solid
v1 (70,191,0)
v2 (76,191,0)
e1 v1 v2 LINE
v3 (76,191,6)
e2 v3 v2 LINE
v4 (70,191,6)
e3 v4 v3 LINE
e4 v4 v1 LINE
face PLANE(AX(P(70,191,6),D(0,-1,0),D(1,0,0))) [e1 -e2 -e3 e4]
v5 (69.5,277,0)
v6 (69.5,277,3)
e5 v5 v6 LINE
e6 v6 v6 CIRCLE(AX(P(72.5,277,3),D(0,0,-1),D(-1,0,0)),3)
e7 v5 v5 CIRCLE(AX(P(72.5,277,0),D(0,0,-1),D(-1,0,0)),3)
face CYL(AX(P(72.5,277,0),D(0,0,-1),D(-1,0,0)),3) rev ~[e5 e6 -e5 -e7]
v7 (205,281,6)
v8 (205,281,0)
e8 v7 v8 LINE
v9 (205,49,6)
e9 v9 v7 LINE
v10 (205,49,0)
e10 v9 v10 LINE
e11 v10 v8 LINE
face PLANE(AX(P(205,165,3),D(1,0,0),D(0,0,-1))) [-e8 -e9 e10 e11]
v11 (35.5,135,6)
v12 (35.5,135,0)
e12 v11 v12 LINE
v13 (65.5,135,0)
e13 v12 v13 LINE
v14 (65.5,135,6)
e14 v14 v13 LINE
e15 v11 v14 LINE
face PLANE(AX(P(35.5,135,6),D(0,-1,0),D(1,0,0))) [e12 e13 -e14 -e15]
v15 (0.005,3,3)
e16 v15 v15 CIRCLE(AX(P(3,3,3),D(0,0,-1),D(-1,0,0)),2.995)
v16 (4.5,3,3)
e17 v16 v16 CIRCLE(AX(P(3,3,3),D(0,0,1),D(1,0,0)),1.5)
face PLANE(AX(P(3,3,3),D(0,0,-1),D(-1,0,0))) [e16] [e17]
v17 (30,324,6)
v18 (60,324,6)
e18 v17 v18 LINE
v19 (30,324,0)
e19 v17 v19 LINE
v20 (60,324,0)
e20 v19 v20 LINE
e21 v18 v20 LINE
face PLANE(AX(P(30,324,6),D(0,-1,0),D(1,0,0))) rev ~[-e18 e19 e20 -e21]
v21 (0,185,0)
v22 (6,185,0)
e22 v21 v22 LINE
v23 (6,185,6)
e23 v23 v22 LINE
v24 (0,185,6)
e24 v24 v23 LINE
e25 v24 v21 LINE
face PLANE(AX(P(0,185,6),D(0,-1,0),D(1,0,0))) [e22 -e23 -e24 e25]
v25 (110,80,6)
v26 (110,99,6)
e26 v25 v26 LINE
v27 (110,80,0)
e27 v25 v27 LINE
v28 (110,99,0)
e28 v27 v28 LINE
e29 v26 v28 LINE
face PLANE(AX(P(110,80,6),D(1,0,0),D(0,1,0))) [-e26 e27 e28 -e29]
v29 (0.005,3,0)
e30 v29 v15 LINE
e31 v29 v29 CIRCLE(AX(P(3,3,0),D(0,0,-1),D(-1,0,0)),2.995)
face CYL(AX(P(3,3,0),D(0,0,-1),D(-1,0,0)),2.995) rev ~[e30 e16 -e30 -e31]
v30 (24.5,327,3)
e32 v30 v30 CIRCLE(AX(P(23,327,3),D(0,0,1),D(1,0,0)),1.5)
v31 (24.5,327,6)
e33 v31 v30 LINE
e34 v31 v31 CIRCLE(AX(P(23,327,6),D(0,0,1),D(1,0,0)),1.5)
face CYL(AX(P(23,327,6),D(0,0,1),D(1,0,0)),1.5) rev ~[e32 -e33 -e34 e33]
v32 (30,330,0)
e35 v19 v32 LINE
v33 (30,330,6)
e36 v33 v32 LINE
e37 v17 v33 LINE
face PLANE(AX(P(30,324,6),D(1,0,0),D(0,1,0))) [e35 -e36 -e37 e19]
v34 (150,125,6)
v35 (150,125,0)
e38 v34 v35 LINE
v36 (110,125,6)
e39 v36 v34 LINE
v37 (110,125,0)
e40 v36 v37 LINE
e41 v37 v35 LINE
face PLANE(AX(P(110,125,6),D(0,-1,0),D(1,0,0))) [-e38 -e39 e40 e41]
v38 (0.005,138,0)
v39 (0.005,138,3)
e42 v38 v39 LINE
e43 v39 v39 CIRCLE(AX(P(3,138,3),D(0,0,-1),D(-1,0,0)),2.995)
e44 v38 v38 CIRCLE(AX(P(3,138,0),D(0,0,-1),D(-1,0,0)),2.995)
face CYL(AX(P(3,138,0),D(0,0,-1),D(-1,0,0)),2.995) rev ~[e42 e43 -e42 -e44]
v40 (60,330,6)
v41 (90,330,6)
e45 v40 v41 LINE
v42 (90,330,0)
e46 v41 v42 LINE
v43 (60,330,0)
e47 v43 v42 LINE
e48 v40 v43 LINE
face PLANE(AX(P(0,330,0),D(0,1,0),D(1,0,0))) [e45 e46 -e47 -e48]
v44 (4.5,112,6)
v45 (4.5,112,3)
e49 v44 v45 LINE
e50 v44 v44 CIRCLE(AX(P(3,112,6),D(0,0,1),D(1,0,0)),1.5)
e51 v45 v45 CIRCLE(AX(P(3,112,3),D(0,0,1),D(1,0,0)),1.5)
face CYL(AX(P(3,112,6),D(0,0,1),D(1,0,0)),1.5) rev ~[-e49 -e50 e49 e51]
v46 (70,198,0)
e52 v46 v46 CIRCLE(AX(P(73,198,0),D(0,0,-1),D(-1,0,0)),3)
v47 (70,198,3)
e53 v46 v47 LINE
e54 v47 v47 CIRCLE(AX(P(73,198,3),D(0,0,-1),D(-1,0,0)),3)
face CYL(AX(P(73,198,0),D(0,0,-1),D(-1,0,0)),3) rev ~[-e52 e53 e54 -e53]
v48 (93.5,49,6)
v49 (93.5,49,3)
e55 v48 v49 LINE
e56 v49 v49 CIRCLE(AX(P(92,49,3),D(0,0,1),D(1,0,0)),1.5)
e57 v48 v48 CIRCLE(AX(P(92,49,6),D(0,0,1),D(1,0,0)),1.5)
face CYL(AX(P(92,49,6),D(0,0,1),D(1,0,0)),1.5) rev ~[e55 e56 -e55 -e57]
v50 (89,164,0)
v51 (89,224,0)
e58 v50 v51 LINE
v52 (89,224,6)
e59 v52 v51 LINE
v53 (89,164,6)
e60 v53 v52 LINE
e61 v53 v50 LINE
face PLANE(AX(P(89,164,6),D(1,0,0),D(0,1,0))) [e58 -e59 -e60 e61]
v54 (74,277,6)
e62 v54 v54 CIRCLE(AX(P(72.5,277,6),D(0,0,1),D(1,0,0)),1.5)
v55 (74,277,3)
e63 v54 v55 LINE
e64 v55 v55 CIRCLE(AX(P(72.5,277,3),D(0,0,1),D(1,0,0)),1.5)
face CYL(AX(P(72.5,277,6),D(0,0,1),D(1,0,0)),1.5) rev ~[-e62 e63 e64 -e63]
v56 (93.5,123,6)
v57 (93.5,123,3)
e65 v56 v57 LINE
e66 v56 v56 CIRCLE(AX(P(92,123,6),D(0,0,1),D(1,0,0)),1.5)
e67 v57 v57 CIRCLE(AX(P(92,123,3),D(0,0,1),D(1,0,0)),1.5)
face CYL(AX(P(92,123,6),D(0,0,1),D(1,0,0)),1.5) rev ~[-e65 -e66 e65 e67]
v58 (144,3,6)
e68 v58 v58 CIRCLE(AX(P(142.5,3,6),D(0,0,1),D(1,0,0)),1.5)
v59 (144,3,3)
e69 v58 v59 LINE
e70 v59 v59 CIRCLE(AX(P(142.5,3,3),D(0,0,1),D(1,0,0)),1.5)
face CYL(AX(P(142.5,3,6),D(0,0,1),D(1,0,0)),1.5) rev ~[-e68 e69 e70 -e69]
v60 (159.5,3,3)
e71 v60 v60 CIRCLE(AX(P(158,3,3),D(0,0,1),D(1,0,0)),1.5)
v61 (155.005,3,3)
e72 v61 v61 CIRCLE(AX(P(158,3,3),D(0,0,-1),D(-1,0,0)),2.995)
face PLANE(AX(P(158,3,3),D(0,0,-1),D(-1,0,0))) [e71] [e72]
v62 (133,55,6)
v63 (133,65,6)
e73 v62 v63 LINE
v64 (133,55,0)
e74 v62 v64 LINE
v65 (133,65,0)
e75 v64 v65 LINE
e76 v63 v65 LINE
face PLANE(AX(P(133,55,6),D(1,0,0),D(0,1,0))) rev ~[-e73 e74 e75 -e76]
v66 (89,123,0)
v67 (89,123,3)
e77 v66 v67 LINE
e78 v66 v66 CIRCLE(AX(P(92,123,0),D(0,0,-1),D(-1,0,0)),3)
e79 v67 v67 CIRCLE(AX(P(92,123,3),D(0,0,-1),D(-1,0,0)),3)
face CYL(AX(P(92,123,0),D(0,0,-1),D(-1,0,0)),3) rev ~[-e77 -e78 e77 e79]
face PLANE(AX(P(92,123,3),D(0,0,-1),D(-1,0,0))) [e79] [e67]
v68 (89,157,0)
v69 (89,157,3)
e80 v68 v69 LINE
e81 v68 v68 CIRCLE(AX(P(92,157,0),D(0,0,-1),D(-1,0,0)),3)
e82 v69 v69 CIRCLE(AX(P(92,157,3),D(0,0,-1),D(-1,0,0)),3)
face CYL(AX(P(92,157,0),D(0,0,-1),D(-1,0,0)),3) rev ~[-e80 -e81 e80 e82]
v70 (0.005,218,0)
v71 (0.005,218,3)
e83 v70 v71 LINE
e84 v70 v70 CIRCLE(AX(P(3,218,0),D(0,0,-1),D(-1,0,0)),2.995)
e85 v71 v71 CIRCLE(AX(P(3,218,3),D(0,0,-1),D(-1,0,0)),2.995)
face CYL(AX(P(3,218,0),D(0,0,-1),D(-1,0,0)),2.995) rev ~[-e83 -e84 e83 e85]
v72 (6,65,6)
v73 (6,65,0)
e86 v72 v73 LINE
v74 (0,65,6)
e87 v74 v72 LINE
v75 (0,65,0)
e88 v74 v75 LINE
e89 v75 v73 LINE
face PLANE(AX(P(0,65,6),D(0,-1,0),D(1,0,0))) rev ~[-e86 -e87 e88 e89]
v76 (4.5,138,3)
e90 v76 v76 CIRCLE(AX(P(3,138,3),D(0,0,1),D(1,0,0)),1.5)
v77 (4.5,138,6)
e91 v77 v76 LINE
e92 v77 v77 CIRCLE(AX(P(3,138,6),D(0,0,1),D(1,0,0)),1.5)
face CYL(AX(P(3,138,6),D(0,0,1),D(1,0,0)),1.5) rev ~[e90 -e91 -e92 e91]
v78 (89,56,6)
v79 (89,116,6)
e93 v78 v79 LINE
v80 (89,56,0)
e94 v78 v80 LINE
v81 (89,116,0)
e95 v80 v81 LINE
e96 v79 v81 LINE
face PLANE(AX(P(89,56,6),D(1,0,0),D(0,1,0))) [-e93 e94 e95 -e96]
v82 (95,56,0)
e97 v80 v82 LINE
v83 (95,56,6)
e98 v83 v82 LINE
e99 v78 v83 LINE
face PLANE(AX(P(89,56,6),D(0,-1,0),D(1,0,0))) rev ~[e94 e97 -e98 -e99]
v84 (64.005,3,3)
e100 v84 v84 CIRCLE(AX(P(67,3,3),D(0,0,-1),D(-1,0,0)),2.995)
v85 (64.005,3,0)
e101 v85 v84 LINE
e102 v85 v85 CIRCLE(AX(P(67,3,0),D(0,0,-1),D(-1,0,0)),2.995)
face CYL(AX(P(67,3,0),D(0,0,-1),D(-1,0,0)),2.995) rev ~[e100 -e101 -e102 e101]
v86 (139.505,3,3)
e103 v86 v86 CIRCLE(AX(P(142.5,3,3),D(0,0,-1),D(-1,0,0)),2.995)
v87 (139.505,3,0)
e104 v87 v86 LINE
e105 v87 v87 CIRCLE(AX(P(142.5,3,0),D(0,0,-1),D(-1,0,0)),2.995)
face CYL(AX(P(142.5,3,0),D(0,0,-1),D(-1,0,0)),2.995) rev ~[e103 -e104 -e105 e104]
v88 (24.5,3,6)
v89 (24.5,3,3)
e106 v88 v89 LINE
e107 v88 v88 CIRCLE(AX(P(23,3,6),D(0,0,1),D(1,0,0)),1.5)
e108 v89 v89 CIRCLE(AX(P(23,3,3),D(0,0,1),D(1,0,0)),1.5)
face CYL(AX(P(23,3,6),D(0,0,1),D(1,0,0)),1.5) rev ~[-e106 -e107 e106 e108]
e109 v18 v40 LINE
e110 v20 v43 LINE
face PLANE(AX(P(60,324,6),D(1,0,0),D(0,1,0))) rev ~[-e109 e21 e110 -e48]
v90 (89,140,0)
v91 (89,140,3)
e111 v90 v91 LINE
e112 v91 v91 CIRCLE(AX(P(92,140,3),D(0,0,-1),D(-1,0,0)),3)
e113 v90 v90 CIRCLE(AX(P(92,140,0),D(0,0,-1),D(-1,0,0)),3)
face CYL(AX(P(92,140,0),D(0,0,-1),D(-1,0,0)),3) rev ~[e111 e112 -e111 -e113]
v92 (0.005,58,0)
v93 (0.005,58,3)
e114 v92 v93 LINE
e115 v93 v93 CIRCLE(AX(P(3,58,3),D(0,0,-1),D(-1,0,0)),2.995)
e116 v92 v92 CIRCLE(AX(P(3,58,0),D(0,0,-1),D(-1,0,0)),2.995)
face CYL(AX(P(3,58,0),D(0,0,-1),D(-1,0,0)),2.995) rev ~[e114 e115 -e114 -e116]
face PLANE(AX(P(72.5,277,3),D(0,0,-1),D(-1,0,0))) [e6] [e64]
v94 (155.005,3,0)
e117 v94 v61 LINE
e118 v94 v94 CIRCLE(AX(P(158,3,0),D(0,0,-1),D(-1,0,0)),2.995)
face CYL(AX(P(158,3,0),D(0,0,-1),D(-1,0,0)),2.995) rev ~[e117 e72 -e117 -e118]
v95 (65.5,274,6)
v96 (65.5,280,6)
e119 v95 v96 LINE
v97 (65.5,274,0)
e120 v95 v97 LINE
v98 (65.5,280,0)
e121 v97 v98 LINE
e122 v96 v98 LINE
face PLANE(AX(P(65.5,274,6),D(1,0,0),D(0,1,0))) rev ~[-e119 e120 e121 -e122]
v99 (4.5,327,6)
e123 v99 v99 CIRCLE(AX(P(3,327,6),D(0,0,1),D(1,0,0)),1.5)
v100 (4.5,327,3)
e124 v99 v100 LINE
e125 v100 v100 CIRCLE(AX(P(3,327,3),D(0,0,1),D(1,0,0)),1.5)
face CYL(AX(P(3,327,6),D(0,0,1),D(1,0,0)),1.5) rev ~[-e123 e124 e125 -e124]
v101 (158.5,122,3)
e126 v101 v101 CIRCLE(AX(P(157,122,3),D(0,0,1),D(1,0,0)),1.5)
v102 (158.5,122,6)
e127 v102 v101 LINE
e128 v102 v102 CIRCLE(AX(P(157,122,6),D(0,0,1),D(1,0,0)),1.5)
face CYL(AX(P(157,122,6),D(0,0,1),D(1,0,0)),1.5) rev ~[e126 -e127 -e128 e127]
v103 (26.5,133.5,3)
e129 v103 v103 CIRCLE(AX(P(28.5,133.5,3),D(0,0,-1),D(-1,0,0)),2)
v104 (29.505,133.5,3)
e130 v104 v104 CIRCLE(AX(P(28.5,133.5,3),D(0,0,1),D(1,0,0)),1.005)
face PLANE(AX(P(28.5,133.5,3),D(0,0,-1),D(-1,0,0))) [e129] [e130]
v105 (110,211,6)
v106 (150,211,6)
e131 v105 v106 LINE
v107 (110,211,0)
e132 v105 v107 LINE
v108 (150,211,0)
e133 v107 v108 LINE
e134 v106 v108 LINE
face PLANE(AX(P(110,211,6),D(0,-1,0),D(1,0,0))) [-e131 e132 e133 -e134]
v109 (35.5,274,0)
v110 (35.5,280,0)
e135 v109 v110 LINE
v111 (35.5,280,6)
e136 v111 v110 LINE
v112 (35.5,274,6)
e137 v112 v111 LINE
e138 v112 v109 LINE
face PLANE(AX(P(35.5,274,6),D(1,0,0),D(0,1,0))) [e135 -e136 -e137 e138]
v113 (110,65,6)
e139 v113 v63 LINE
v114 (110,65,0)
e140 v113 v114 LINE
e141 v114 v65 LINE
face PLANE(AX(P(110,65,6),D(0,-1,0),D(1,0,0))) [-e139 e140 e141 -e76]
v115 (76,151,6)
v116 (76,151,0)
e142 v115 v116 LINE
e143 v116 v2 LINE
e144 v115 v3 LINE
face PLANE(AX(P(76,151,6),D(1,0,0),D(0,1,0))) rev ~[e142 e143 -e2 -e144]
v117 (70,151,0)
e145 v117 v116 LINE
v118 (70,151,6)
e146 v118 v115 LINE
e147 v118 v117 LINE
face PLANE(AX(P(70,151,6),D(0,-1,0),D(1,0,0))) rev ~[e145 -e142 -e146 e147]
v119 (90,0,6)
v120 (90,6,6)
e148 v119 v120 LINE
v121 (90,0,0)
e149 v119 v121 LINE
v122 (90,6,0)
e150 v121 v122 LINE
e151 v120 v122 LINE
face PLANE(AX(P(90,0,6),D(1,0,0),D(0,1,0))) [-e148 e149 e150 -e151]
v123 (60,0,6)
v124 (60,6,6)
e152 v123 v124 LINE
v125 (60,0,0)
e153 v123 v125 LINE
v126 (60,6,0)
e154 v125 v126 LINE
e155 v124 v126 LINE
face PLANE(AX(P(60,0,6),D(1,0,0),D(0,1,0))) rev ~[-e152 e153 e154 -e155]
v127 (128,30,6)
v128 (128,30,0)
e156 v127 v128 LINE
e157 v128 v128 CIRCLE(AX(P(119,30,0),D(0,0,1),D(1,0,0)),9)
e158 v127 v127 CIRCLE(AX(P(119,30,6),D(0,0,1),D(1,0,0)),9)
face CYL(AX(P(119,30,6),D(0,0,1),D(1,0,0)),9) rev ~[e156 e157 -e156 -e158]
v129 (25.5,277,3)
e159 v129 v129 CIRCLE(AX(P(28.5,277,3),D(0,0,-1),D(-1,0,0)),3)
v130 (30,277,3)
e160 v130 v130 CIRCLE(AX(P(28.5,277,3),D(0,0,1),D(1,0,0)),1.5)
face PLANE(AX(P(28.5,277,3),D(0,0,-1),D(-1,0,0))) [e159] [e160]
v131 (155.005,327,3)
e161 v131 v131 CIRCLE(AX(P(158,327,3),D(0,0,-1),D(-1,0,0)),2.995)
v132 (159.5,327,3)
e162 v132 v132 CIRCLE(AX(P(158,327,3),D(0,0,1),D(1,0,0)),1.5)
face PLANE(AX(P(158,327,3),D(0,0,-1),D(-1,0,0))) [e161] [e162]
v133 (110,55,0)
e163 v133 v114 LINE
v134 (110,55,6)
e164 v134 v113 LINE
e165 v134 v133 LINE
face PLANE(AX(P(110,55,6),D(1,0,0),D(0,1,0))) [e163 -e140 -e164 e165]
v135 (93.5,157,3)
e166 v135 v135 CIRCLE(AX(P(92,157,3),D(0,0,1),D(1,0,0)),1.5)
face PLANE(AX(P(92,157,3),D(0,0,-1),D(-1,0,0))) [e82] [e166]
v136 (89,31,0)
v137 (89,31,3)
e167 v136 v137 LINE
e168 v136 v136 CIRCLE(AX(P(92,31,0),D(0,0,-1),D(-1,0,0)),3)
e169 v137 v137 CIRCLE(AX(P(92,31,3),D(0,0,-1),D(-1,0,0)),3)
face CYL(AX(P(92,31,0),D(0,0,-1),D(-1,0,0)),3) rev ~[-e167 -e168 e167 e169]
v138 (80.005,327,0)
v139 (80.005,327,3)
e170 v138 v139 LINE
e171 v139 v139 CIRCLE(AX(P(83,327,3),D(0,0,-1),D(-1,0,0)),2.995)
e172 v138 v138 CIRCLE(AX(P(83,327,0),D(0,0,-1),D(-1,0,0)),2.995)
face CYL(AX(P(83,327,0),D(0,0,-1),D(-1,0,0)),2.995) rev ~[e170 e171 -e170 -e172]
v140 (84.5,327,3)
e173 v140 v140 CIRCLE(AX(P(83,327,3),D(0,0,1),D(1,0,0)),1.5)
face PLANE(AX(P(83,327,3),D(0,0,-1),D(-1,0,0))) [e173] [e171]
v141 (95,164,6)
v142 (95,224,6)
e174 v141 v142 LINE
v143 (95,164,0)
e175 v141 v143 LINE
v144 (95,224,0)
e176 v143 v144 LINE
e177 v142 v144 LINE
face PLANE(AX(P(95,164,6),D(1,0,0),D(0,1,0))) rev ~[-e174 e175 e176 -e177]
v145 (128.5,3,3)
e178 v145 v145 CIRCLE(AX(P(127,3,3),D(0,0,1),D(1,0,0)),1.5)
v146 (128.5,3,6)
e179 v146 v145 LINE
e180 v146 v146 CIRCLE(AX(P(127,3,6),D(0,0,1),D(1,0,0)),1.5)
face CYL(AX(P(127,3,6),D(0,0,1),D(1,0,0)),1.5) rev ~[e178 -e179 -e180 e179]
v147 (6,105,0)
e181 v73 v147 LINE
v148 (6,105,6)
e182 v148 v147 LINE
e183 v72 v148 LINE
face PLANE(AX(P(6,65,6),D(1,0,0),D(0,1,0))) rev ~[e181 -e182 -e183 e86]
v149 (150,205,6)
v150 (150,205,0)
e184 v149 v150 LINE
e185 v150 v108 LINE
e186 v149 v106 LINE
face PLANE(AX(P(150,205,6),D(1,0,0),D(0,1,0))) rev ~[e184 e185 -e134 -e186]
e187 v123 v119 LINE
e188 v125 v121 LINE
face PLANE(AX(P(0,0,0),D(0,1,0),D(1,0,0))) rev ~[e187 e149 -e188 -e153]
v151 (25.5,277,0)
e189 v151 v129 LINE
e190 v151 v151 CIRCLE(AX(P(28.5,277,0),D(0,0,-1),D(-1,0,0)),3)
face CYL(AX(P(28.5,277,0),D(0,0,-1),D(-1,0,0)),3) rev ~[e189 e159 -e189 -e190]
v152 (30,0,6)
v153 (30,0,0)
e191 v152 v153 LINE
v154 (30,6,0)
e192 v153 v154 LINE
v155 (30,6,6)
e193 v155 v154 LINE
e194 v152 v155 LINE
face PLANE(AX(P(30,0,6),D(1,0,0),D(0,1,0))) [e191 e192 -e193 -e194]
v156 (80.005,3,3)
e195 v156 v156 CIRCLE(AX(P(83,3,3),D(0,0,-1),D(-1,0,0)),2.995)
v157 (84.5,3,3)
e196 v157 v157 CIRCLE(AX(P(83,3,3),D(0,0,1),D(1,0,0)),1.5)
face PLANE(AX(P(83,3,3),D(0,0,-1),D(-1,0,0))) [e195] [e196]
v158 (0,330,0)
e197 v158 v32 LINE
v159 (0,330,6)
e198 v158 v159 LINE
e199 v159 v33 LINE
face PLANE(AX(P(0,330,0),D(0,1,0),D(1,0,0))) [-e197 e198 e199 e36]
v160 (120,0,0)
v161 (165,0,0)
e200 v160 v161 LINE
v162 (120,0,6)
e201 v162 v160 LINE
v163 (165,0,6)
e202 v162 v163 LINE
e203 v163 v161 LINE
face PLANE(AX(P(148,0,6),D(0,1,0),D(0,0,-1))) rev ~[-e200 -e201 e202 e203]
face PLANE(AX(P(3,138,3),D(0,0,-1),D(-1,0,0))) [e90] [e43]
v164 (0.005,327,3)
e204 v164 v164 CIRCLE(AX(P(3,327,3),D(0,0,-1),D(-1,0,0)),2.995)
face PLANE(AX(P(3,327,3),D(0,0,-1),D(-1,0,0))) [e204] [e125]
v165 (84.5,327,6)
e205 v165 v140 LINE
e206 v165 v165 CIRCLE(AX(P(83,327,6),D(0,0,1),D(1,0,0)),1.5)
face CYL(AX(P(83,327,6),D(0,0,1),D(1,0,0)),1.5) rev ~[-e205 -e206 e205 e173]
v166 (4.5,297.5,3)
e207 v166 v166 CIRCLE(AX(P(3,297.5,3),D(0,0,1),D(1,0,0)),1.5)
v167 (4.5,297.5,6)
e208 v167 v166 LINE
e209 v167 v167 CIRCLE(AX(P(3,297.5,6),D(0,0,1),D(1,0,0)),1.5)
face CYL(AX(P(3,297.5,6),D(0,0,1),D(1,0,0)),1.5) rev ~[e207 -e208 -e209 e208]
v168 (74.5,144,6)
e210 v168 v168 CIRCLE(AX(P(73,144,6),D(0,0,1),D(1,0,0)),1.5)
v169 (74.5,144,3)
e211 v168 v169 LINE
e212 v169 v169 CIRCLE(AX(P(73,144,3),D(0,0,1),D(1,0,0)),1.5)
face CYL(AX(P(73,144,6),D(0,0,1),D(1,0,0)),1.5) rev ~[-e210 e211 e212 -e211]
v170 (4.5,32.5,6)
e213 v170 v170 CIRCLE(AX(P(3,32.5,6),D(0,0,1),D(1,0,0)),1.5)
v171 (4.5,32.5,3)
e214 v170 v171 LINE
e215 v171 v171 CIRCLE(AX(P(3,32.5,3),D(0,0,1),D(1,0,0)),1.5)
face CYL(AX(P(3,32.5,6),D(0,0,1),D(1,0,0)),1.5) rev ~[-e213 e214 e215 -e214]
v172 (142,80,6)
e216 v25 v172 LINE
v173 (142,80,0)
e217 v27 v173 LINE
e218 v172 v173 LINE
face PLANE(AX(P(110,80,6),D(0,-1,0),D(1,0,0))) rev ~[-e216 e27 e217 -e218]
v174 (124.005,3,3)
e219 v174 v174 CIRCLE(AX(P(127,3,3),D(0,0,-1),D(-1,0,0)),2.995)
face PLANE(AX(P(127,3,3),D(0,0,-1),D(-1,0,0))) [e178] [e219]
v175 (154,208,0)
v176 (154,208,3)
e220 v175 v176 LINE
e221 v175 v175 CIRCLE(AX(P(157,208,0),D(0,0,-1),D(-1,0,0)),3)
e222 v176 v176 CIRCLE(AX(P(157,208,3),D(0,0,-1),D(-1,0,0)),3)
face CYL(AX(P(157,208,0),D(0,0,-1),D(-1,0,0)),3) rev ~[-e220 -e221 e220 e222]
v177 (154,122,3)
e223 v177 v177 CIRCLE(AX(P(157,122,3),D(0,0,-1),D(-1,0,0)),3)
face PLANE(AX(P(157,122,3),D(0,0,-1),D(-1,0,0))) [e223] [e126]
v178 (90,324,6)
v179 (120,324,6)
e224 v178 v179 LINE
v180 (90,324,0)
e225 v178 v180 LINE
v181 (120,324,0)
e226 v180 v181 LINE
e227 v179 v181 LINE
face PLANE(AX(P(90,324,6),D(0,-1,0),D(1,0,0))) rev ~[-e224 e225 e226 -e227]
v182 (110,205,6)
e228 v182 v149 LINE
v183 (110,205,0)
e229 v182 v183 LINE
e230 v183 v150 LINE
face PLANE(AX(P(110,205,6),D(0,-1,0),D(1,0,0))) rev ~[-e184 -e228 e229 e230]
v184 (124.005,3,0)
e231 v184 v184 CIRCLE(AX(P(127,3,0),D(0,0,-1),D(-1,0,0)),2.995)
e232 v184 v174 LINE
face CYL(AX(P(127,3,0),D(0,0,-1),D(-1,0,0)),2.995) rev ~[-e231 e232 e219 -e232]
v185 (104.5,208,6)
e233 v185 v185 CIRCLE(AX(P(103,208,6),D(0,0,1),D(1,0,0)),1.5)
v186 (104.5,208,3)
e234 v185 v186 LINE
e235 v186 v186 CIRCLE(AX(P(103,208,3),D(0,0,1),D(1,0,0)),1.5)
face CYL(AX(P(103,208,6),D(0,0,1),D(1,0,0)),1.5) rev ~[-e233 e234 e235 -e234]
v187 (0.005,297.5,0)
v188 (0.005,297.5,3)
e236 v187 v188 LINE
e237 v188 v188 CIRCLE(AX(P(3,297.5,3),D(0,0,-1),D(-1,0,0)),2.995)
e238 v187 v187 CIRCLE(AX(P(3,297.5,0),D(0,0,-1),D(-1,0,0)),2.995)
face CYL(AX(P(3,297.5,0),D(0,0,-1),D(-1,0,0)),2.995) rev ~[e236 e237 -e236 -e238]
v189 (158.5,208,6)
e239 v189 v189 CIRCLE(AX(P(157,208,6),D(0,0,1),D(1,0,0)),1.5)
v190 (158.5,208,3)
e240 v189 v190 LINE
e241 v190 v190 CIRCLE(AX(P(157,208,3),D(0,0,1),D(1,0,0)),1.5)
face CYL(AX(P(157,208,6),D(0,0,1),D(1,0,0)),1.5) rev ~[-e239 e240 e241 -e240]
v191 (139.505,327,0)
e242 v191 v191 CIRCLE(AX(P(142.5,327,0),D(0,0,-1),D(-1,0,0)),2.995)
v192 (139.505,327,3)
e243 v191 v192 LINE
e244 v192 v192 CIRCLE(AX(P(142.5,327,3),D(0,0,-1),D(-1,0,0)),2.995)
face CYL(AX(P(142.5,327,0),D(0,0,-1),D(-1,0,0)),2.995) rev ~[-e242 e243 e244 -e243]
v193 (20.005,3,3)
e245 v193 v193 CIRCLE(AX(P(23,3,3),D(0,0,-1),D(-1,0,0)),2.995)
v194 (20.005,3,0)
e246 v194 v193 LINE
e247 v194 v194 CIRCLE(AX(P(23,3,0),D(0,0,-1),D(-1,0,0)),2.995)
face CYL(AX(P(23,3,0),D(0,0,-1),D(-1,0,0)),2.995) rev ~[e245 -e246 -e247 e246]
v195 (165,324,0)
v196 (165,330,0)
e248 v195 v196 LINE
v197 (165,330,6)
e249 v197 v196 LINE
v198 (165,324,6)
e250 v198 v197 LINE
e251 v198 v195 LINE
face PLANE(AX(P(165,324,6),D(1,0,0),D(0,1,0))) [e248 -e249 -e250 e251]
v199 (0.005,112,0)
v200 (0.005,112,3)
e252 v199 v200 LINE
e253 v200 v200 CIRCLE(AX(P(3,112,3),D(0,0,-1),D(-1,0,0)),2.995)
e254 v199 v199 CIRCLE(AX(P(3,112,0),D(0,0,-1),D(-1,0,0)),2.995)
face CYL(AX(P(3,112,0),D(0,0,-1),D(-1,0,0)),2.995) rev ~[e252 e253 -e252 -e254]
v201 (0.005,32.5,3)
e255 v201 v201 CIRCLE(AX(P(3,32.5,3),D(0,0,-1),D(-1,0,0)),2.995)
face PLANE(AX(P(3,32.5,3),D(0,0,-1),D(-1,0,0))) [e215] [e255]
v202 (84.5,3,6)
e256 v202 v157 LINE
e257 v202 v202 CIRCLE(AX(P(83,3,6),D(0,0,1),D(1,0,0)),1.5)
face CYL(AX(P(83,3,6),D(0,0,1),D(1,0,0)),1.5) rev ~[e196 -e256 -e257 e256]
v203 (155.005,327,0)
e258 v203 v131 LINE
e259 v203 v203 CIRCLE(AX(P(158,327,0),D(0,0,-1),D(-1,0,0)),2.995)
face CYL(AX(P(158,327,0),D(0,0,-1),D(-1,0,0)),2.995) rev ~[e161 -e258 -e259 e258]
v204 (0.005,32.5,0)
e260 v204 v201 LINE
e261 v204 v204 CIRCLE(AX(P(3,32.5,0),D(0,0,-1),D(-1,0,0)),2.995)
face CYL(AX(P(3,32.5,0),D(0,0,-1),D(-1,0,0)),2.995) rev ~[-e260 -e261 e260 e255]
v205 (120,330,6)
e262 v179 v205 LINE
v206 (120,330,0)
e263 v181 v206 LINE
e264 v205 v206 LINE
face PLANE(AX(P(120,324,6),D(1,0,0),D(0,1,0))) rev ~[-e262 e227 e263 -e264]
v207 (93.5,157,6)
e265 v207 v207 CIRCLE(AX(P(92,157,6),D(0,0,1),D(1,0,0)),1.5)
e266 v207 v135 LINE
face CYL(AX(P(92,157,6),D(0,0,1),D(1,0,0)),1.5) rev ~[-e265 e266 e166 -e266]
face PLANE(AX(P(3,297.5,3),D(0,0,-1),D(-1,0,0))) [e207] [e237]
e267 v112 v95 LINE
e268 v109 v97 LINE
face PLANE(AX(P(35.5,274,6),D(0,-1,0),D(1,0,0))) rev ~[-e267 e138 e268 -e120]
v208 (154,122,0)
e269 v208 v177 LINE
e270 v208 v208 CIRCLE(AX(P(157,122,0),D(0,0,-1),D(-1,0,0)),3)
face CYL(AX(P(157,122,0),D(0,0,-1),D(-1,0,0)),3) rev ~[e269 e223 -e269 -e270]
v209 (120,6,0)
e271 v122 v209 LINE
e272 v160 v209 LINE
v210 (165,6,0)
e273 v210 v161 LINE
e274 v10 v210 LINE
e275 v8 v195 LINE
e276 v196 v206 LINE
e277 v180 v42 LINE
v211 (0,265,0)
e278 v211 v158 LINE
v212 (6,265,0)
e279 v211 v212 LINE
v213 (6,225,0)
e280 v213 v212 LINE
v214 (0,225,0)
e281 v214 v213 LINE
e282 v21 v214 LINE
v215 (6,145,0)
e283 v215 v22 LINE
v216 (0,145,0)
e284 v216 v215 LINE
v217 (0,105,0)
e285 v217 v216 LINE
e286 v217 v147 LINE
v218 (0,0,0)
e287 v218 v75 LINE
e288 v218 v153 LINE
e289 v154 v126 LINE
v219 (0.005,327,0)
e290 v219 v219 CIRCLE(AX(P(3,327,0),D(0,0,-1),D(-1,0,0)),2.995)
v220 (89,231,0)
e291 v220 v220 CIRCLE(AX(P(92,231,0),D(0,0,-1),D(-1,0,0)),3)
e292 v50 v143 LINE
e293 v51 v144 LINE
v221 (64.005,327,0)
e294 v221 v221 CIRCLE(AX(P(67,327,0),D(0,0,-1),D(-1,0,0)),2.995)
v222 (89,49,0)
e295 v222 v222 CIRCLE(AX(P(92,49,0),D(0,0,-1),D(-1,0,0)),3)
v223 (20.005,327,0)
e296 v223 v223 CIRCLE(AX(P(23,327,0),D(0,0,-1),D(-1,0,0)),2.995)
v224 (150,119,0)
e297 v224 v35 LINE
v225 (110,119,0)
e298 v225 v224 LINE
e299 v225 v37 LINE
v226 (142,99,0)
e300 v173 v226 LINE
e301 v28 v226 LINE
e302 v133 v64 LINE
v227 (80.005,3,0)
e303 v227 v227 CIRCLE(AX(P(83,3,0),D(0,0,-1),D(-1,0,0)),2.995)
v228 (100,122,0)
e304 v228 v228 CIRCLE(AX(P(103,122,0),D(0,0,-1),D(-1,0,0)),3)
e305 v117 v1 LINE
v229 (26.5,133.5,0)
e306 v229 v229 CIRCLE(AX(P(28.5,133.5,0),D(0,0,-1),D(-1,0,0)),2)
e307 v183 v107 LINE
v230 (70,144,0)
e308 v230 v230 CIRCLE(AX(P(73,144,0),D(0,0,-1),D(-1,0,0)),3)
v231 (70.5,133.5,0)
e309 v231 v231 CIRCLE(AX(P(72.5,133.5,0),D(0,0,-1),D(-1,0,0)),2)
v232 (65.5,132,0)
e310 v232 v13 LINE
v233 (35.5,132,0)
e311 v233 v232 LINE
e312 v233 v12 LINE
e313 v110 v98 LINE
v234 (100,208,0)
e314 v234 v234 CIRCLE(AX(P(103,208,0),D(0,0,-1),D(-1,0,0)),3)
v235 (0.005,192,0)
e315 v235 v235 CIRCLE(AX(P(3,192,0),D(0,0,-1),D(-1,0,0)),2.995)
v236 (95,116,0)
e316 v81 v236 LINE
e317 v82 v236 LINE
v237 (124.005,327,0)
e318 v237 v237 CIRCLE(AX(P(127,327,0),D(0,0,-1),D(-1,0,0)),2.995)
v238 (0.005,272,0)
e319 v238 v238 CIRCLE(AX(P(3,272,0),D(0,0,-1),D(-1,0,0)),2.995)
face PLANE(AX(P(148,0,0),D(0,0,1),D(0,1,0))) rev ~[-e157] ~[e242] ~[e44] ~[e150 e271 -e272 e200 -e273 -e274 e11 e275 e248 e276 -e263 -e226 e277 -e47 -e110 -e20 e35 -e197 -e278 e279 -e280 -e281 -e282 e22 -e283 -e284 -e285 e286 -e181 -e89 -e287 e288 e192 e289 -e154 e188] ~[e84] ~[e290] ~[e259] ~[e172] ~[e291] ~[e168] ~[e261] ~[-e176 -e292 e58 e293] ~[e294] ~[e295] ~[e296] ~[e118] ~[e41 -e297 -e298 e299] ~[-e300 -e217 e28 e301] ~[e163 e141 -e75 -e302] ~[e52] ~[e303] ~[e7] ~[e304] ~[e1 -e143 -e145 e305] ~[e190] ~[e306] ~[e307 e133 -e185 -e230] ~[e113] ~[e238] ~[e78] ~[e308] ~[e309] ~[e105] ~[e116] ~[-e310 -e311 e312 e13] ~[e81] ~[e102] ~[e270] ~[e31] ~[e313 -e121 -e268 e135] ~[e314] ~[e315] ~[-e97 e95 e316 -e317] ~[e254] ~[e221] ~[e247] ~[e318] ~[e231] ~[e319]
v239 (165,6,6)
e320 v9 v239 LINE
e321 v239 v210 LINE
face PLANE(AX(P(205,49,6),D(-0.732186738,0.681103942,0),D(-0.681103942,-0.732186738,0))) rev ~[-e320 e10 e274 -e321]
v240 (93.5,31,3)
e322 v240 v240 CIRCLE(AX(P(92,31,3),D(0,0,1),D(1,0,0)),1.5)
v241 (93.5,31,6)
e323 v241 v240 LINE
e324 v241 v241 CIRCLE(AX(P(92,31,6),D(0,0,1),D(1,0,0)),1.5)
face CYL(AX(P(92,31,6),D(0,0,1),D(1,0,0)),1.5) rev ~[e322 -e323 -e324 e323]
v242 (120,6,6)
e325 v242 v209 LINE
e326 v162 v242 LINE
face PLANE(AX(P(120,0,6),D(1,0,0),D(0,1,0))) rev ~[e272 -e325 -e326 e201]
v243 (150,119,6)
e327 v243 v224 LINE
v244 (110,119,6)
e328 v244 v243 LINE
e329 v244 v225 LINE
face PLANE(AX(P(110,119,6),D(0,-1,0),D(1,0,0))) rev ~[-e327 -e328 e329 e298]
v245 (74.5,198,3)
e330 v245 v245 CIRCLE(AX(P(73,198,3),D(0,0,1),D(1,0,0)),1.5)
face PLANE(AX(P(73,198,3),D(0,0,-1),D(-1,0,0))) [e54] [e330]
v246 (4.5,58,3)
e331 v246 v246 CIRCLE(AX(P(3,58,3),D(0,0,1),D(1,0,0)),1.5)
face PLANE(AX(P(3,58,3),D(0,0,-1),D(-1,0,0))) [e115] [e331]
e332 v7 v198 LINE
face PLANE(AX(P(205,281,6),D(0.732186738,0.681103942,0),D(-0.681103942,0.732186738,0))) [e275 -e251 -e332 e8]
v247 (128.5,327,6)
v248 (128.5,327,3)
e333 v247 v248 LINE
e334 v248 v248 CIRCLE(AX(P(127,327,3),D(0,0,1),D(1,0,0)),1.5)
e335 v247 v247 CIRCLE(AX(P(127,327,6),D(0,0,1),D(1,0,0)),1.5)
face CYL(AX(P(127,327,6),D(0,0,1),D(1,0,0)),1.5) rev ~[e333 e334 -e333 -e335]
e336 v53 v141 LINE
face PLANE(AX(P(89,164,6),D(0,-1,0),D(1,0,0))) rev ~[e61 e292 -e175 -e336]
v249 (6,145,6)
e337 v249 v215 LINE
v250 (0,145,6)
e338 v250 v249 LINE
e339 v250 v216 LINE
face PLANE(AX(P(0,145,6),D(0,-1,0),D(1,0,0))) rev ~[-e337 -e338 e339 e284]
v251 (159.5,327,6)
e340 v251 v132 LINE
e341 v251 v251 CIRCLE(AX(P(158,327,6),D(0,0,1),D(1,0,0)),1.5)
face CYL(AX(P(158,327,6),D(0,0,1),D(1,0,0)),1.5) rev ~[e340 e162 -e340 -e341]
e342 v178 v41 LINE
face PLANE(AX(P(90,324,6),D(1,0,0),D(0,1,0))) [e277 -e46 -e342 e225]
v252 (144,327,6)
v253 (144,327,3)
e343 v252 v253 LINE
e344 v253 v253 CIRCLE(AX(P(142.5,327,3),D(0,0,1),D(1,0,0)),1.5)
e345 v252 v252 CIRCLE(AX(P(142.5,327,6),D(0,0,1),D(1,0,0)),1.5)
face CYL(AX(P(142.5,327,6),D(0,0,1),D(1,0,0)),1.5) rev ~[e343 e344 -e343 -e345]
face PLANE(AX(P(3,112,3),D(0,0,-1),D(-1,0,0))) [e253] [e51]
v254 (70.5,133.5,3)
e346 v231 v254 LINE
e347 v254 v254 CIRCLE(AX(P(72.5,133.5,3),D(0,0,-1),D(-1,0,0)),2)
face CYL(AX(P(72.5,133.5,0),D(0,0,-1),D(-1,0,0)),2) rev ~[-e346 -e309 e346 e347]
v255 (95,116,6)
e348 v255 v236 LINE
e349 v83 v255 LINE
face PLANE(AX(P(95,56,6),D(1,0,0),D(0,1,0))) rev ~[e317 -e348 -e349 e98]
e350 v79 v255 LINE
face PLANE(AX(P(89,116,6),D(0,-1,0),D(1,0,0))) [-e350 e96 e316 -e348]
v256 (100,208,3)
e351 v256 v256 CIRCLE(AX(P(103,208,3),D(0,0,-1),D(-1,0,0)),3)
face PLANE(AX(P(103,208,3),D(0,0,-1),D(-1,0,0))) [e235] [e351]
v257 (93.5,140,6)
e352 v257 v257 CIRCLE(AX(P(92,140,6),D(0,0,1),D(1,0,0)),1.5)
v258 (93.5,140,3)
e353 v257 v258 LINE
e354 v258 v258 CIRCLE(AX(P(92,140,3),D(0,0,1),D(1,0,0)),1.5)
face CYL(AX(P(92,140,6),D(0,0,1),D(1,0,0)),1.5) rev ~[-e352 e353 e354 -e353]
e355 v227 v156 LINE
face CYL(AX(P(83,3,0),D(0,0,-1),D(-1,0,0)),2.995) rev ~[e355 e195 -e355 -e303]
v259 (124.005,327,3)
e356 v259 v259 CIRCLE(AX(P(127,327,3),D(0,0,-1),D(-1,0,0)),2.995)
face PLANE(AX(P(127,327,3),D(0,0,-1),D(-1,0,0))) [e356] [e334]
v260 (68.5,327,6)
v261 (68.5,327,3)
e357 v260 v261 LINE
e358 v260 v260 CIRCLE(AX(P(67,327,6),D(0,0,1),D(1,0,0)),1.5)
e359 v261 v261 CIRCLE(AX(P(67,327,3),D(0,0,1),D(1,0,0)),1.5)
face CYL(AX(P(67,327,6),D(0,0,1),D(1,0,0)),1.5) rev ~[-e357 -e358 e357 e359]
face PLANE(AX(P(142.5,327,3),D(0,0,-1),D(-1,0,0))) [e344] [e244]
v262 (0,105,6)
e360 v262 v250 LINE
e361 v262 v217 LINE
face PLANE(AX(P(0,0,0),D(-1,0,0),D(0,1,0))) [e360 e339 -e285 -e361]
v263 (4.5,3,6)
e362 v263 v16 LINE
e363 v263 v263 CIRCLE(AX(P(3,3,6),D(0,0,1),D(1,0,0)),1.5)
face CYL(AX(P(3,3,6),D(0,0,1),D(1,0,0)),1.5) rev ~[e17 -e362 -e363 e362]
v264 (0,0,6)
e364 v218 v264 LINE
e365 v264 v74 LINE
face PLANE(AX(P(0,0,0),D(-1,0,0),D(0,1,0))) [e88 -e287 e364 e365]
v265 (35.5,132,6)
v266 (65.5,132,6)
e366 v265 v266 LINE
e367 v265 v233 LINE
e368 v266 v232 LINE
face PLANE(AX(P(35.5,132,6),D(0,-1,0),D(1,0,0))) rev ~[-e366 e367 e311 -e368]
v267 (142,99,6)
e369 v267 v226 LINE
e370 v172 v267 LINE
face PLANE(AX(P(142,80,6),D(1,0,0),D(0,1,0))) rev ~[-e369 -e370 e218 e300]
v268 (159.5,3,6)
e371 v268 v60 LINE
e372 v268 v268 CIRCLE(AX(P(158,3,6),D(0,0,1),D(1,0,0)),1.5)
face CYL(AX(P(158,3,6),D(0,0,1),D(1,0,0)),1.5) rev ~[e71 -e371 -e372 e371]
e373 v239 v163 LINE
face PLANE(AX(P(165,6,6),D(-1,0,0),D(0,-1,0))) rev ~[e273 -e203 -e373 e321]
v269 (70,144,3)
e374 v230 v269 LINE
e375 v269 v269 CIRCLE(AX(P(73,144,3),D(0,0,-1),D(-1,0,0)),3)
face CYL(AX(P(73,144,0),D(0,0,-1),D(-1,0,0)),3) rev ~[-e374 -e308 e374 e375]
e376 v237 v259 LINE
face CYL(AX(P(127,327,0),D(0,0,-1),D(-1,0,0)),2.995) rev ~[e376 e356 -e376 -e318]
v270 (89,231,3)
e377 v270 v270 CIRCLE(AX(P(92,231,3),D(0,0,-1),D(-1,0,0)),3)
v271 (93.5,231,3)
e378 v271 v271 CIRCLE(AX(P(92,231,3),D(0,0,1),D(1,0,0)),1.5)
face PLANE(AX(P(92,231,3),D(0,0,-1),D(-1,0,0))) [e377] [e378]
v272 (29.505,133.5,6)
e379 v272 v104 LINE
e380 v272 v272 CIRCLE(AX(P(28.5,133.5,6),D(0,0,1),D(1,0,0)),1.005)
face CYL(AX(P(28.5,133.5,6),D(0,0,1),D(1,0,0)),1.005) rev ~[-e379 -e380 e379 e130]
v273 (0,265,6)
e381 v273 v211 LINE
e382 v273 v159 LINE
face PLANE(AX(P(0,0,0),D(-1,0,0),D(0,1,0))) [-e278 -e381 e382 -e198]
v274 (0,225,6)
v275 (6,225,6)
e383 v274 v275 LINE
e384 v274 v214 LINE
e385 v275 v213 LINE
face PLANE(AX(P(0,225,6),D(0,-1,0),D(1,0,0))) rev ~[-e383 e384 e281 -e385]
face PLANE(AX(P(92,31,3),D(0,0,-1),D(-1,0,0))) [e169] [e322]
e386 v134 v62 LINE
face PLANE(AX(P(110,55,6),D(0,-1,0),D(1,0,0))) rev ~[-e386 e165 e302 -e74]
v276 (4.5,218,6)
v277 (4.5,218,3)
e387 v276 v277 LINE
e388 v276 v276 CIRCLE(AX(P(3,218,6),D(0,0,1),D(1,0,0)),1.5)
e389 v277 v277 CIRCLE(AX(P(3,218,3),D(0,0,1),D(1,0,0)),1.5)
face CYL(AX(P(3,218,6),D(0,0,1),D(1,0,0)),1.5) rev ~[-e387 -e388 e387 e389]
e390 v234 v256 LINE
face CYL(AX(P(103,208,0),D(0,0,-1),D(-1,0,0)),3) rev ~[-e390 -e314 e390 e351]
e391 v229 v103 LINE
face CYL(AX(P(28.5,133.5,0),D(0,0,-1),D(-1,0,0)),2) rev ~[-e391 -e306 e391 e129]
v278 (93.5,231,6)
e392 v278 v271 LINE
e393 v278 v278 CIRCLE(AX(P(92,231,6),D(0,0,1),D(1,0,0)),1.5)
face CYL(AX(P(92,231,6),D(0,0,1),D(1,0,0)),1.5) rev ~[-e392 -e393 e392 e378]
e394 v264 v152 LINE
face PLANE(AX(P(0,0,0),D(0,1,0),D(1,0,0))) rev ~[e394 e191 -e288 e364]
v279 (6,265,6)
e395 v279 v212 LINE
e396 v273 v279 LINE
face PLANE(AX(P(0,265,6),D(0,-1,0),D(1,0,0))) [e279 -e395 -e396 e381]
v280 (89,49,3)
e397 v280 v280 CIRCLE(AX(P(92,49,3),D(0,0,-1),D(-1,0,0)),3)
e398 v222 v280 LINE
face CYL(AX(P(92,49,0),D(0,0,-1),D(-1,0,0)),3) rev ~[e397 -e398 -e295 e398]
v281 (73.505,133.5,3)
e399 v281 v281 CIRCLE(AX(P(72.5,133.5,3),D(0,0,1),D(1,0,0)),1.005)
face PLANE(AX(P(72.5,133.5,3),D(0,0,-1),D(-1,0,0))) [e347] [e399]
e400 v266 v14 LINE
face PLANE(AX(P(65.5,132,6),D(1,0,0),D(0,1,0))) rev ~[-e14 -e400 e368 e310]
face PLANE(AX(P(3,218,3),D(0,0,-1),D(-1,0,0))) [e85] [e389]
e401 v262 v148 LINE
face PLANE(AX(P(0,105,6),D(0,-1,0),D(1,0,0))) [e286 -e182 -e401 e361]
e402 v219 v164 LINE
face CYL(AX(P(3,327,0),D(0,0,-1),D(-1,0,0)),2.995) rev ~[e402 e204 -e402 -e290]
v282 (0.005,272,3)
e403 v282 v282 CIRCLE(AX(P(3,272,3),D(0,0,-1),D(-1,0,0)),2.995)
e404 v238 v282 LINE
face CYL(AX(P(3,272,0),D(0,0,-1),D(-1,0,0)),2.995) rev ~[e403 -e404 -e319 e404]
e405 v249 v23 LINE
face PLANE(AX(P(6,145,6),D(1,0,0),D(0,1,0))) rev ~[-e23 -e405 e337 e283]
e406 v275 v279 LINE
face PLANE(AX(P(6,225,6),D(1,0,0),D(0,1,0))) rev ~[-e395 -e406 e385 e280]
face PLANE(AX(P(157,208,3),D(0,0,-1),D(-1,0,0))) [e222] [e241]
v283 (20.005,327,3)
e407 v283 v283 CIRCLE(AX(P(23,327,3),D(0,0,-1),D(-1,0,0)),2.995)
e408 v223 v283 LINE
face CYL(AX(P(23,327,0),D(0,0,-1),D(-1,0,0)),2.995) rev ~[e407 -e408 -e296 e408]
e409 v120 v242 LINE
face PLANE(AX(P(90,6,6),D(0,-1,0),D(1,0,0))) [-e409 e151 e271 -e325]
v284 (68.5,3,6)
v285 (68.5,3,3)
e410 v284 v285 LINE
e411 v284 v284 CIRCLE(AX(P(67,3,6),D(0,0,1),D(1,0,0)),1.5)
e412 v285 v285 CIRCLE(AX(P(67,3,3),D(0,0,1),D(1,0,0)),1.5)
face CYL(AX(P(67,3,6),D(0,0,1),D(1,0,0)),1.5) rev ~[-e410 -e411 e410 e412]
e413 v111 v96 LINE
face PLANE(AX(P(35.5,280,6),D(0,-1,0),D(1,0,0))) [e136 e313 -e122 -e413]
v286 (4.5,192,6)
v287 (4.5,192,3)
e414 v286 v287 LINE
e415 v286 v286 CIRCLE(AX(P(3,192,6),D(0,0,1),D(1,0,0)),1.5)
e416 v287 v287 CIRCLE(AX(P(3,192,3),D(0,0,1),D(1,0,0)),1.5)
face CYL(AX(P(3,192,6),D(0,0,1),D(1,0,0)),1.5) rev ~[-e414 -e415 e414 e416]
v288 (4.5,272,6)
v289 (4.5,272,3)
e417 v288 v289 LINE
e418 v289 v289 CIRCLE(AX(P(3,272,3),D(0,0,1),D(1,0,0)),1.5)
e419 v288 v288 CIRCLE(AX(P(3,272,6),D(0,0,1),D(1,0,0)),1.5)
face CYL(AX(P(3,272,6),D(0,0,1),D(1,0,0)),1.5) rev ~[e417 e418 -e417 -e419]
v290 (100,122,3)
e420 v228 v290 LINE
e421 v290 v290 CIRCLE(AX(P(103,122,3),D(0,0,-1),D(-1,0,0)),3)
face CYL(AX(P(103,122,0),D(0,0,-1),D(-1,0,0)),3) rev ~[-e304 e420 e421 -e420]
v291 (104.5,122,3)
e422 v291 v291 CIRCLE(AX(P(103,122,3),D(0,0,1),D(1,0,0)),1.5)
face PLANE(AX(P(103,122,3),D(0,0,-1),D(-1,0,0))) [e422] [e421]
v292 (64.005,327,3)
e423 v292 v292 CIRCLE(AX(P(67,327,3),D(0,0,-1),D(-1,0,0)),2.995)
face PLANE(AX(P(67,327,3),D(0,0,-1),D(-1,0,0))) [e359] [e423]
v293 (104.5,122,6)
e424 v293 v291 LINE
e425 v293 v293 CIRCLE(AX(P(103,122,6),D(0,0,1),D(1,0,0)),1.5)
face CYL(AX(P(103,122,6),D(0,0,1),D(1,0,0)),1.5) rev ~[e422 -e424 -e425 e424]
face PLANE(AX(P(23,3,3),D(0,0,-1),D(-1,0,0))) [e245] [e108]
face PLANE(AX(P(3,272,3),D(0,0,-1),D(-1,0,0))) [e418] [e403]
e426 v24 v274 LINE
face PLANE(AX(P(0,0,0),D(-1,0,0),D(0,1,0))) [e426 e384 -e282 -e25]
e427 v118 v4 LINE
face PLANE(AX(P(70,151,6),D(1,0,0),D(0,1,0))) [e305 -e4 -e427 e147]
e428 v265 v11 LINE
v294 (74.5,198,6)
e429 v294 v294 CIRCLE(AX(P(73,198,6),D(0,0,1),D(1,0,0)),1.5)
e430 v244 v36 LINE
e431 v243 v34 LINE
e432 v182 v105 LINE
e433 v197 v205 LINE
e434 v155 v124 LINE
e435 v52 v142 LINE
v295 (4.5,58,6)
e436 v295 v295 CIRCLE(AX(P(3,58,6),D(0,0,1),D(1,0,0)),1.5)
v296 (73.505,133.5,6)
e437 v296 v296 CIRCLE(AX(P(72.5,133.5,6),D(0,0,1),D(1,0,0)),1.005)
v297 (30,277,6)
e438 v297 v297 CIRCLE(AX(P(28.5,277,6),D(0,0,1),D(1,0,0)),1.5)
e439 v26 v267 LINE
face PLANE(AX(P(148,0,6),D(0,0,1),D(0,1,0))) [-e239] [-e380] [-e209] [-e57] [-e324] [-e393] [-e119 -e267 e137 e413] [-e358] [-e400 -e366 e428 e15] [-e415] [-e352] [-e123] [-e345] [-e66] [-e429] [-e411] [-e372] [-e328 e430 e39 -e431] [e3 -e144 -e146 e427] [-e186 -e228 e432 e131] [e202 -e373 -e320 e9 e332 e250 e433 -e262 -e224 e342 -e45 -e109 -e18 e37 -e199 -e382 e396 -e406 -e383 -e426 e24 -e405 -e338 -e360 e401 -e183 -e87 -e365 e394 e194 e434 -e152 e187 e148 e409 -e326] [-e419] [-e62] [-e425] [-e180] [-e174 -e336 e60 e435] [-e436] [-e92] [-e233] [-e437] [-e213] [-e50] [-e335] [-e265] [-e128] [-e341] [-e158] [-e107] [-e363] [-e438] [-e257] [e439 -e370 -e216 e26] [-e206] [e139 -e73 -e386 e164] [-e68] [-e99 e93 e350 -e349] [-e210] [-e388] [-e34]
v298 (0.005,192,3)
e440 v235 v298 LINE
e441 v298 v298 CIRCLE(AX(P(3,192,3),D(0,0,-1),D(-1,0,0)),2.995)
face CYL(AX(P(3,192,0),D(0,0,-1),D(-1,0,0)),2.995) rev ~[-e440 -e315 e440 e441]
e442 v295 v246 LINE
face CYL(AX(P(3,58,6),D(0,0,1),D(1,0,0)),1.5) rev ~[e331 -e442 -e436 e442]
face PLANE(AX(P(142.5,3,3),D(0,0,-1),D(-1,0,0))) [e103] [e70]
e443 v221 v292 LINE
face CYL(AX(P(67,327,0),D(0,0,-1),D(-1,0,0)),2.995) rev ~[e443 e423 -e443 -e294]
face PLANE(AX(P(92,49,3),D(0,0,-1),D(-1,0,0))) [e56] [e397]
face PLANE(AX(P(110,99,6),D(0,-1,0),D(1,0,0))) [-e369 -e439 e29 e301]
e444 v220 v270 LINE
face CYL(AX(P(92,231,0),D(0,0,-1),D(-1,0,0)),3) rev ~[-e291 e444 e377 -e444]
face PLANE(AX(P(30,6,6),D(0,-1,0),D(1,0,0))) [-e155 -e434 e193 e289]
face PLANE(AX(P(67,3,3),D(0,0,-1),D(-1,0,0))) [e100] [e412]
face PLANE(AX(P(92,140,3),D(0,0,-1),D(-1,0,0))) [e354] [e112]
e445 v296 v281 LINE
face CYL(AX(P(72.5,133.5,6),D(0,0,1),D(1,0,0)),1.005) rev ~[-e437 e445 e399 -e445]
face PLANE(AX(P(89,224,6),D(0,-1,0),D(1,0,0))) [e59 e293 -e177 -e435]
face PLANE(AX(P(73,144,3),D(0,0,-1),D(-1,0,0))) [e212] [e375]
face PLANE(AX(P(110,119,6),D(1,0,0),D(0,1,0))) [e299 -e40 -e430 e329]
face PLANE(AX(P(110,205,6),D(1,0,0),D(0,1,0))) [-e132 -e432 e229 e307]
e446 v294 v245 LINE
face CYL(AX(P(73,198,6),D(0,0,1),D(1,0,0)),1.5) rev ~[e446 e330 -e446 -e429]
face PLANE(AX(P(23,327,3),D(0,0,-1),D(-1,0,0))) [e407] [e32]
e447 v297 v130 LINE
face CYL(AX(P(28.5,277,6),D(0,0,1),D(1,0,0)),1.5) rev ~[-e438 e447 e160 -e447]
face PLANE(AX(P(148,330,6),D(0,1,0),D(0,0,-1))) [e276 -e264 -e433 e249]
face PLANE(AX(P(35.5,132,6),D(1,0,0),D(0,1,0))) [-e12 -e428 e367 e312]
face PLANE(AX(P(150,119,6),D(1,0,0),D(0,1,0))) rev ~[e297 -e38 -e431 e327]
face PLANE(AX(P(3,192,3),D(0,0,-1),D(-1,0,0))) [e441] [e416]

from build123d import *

# Parameters (mm, degrees)
ESQUISSE1_W             = 148
ESQUISSE1_H             = 330
BOSS_EXTRU_1_DEPTH      = 6
ESQUISSE2_W             = 30
ESQUISSE2_H             = 6
ESQUISSE2_W_2           = 6
ESQUISSE2_H_2           = 40
ENL_V_MAT_EXTRU_1_DEPTH = 6
ESQUISSE5_R             = 9
ESQUISSE5_W             = 30
ESQUISSE5_H             = 6
ESQUISSE5_W_2           = 32
ESQUISSE5_H_2           = 19
ESQUISSE5_W_3           = 23
ESQUISSE5_H_3           = 10
ESQUISSE5_H_4           = 3
ENL_V_MAT_EXTRU_3_DEPTH = 6
ESQUISSE6_W             = 6
ESQUISSE6_H             = 60
ENL_V_MAT_EXTRU_4_DEPTH = 10
ESQUISSE8_W             = 6
ESQUISSE8_H             = 330
BOSS_EXTRU_2_DEPTH      = 57
ENL_V_MAT_EXTRU_5_DEPTH = 389.536999525
ESQUISSE10_W            = 6
ESQUISSE10_H            = 40
ESQUISSE10_W_2          = 40
ESQUISSE10_H_2          = 6
ENL_V_MAT_EXTRU_6_DEPTH = 389.536999525
ESQUISSE11_R            = 1.5
ESQUISSE11_R_2          = 1.005
ENL_V_MAT_EXTRU_7_DEPTH = 389.536999525
ESQUISSE12_R            = 2.995
ESQUISSE12_R_2          = 3
ESQUISSE12_R_3          = 2
ENL_V_MAT_EXTRU_8_DEPTH = 3


with BuildPart() as part:
    # Esquisse1 → Boss.-Extru.1 (new body)
    with BuildSketch(Plane.XY):
        with Locations((74, 165)):
            Rectangle(ESQUISSE1_W, ESQUISSE1_H)
    extrude(amount=BOSS_EXTRU_1_DEPTH)

    # Esquisse2 → Enlèv. mat.-Extru.1 (cut)
    with BuildSketch(Plane.XY.offset(6)):
        with Locations((45, 3)):
            Rectangle(ESQUISSE2_W, ESQUISSE2_H)
        with Locations((105, 3)):
            Rectangle(ESQUISSE2_W, ESQUISSE2_H)
        with Locations((45, 327)):
            Rectangle(ESQUISSE2_W, ESQUISSE2_H)
        with Locations((105, 327)):
            Rectangle(ESQUISSE2_W, ESQUISSE2_H)
        with Locations((3, 245)):
            Rectangle(ESQUISSE2_W_2, ESQUISSE2_H_2)
        with Locations((3, 165)):
            Rectangle(ESQUISSE2_W_2, ESQUISSE2_H_2)
        with Locations((3, 85)):
            Rectangle(ESQUISSE2_W_2, ESQUISSE2_H_2)
    extrude(amount=-ENL_V_MAT_EXTRU_1_DEPTH, mode=Mode.SUBTRACT)

    # Esquisse5 → Enlèv. mat.-Extru.3 (cut)
    with BuildSketch(Plane.XY.offset(6)):
        with Locations((119, 30)):
            Circle(ESQUISSE5_R)
        with Locations((50.5, 277)):
            Rectangle(ESQUISSE5_W, ESQUISSE5_H)
        with Locations((126, 89.5)):
            Rectangle(ESQUISSE5_W_2, ESQUISSE5_H_2)
        with Locations((121.5, 60)):
            Rectangle(ESQUISSE5_W_3, ESQUISSE5_H_3)
        with Locations((50.5, 133.5)):
            Rectangle(ESQUISSE5_W, ESQUISSE5_H_4)
    extrude(amount=-ENL_V_MAT_EXTRU_3_DEPTH, mode=Mode.SUBTRACT)

    # Esquisse6 → Enlèv. mat.-Extru.4 (cut)
    with BuildSketch(Plane.XY.offset(6)):
        with Locations((92, 86)):
            Rectangle(ESQUISSE6_W, ESQUISSE6_H)
        with Locations((92, 194)):
            Rectangle(ESQUISSE6_W, ESQUISSE6_H)
    extrude(amount=-ENL_V_MAT_EXTRU_4_DEPTH, mode=Mode.SUBTRACT)

    # Esquisse8 → Boss.-Extru.2 (add)
    with BuildSketch(Plane(origin=(148, 0, 0), x_dir=(0, 0, -1), z_dir=(1, 0, 0))):
        with Locations((-3, 165)):
            Rectangle(ESQUISSE8_W, ESQUISSE8_H)
    extrude(amount=BOSS_EXTRU_2_DEPTH)

    # Esquisse9 → Enlèv. mat.-Extru.5 (cut, through all)
    with BuildSketch(Plane.XY.offset(6)):
        Polygon((165, 0), (205, 0), (205, 49), (165, 6), align=None)
        Polygon((165, 330), (205, 330), (205, 281), (165, 324), align=None)
    extrude(amount=-ENL_V_MAT_EXTRU_5_DEPTH, mode=Mode.SUBTRACT)

    # Esquisse10 → Enlèv. mat.-Extru.6 (cut, through all)
    with BuildSketch(Plane.XY.offset(6)):
        with Locations((73, 171)):
            Rectangle(ESQUISSE10_W, ESQUISSE10_H)
        with Locations((130, 208)):
            Rectangle(ESQUISSE10_W_2, ESQUISSE10_H_2)
        with Locations((130, 122)):
            Rectangle(ESQUISSE10_W_2, ESQUISSE10_H_2)
    extrude(amount=-ENL_V_MAT_EXTRU_6_DEPTH, mode=Mode.SUBTRACT)

    # Esquisse11 → Enlèv. mat.-Extru.7 (cut, through all)
    with BuildSketch(Plane.XY.offset(6)):
        with Locations((158, 327)):
            Circle(ESQUISSE11_R)
        with Locations((142.5, 327)):
            Circle(ESQUISSE11_R)
        with Locations((127, 327)):
            Circle(ESQUISSE11_R)
        with Locations((67, 327)):
            Circle(ESQUISSE11_R)
        with Locations((83, 327)):
            Circle(ESQUISSE11_R)
        with Locations((3, 327)):
            Circle(ESQUISSE11_R)
        with Locations((23, 327)):
            Circle(ESQUISSE11_R)
        with Locations((3, 297.5)):
            Circle(ESQUISSE11_R)
        with Locations((3, 272)):
            Circle(ESQUISSE11_R)
        with Locations((3, 218)):
            Circle(ESQUISSE11_R)
        with Locations((3, 192)):
            Circle(ESQUISSE11_R)
        with Locations((3, 138)):
            Circle(ESQUISSE11_R)
        with Locations((3, 112)):
            Circle(ESQUISSE11_R)
        with Locations((3, 58)):
            Circle(ESQUISSE11_R)
        with Locations((3, 3)):
            Circle(ESQUISSE11_R)
        with Locations((3, 32.5)):
            Circle(ESQUISSE11_R)
        with Locations((23, 3)):
            Circle(ESQUISSE11_R)
        with Locations((67, 3)):
            Circle(ESQUISSE11_R)
        with Locations((83, 3)):
            Circle(ESQUISSE11_R)
        with Locations((127, 3)):
            Circle(ESQUISSE11_R)
        with Locations((158, 3)):
            Circle(ESQUISSE11_R)
        with Locations((142.5, 3)):
            Circle(ESQUISSE11_R)
        with Locations((92, 231)):
            Circle(ESQUISSE11_R)
        with Locations((92, 157)):
            Circle(ESQUISSE11_R)
        with Locations((92, 123)):
            Circle(ESQUISSE11_R)
        with Locations((92, 49)):
            Circle(ESQUISSE11_R)
        with Locations((92, 140)):
            Circle(ESQUISSE11_R)
        with Locations((73, 144)):
            Circle(ESQUISSE11_R)
        with Locations((73, 198)):
            Circle(ESQUISSE11_R)
        with Locations((28.5, 133.5)):
            Circle(ESQUISSE11_R_2)
        with Locations((72.5, 133.5)):
            Circle(ESQUISSE11_R_2)
        with Locations((72.5, 277)):
            Circle(ESQUISSE11_R)
        with Locations((28.5, 277)):
            Circle(ESQUISSE11_R)
        with Locations((92, 31)):
            Circle(ESQUISSE11_R)
        with Locations((103, 208)):
            Circle(ESQUISSE11_R)
        with Locations((157, 208)):
            Circle(ESQUISSE11_R)
        with Locations((157, 122)):
            Circle(ESQUISSE11_R)
        with Locations((103, 122)):
            Circle(ESQUISSE11_R)
    extrude(amount=-ENL_V_MAT_EXTRU_7_DEPTH, mode=Mode.SUBTRACT)

    # Esquisse12 → Enlèv. mat.-Extru.8 (cut)
    with BuildSketch(Plane(origin=(0, 0, 0), x_dir=(-1, 0, 0), z_dir=(0, 0, -1))):
        with Locations((-158, 327)):
            Circle(ESQUISSE12_R)
        with Locations((-142.5, 327)):
            Circle(ESQUISSE12_R)
        with Locations((-127, 327)):
            Circle(ESQUISSE12_R)
        with Locations((-83, 327)):
            Circle(ESQUISSE12_R)
        with Locations((-67, 327)):
            Circle(ESQUISSE12_R)
        with Locations((-23, 327)):
            Circle(ESQUISSE12_R)
        with Locations((-3, 327)):
            Circle(ESQUISSE12_R)
        with Locations((-3, 297.5)):
            Circle(ESQUISSE12_R)
        with Locations((-3, 272)):
            Circle(ESQUISSE12_R)
        with Locations((-28.5, 277)):
            Circle(ESQUISSE12_R_2)
        with Locations((-72.5, 277)):
            Circle(ESQUISSE12_R_2)
        with Locations((-92, 231)):
            Circle(ESQUISSE12_R_2)
        with Locations((-103, 208)):
            Circle(ESQUISSE12_R_2)
        with Locations((-73, 144)):
            Circle(ESQUISSE12_R_2)
        with Locations((-3, 218)):
            Circle(ESQUISSE12_R)
        with Locations((-3, 192)):
            Circle(ESQUISSE12_R)
        with Locations((-73, 198)):
            Circle(ESQUISSE12_R_2)
        with Locations((-92, 157)):
            Circle(ESQUISSE12_R_2)
        with Locations((-92, 140)):
            Circle(ESQUISSE12_R_2)
        with Locations((-92, 123)):
            Circle(ESQUISSE12_R_2)
        with Locations((-72.5, 133.5)):
            Circle(ESQUISSE12_R_3)
        with Locations((-28.5, 133.5)):
            Circle(ESQUISSE12_R_3)
        with Locations((-3, 112)):
            Circle(ESQUISSE12_R)
        with Locations((-3, 138)):
            Circle(ESQUISSE12_R)
        with Locations((-3, 58)):
            Circle(ESQUISSE12_R)
        with Locations((-3, 32.5)):
            Circle(ESQUISSE12_R)
        with Locations((-3, 3)):
            Circle(ESQUISSE12_R)
        with Locations((-23, 3)):
            Circle(ESQUISSE12_R)
        with Locations((-67, 3)):
            Circle(ESQUISSE12_R)
        with Locations((-83, 3)):
            Circle(ESQUISSE12_R)
        with Locations((-92, 31)):
            Circle(ESQUISSE12_R_2)
        with Locations((-92, 49)):
            Circle(ESQUISSE12_R_2)
        with Locations((-127, 3)):
            Circle(ESQUISSE12_R)
        with Locations((-142.5, 3)):
            Circle(ESQUISSE12_R)
        with Locations((-157, 208)):
            Circle(ESQUISSE12_R_2)
        with Locations((-158, 3)):
            Circle(ESQUISSE12_R)
        with Locations((-157, 122)):
            Circle(ESQUISSE12_R_2)
        with Locations((-103, 122)):
            Circle(ESQUISSE12_R_2)
    extrude(amount=-ENL_V_MAT_EXTRU_8_DEPTH, mode=Mode.SUBTRACT)


solid = part.part
